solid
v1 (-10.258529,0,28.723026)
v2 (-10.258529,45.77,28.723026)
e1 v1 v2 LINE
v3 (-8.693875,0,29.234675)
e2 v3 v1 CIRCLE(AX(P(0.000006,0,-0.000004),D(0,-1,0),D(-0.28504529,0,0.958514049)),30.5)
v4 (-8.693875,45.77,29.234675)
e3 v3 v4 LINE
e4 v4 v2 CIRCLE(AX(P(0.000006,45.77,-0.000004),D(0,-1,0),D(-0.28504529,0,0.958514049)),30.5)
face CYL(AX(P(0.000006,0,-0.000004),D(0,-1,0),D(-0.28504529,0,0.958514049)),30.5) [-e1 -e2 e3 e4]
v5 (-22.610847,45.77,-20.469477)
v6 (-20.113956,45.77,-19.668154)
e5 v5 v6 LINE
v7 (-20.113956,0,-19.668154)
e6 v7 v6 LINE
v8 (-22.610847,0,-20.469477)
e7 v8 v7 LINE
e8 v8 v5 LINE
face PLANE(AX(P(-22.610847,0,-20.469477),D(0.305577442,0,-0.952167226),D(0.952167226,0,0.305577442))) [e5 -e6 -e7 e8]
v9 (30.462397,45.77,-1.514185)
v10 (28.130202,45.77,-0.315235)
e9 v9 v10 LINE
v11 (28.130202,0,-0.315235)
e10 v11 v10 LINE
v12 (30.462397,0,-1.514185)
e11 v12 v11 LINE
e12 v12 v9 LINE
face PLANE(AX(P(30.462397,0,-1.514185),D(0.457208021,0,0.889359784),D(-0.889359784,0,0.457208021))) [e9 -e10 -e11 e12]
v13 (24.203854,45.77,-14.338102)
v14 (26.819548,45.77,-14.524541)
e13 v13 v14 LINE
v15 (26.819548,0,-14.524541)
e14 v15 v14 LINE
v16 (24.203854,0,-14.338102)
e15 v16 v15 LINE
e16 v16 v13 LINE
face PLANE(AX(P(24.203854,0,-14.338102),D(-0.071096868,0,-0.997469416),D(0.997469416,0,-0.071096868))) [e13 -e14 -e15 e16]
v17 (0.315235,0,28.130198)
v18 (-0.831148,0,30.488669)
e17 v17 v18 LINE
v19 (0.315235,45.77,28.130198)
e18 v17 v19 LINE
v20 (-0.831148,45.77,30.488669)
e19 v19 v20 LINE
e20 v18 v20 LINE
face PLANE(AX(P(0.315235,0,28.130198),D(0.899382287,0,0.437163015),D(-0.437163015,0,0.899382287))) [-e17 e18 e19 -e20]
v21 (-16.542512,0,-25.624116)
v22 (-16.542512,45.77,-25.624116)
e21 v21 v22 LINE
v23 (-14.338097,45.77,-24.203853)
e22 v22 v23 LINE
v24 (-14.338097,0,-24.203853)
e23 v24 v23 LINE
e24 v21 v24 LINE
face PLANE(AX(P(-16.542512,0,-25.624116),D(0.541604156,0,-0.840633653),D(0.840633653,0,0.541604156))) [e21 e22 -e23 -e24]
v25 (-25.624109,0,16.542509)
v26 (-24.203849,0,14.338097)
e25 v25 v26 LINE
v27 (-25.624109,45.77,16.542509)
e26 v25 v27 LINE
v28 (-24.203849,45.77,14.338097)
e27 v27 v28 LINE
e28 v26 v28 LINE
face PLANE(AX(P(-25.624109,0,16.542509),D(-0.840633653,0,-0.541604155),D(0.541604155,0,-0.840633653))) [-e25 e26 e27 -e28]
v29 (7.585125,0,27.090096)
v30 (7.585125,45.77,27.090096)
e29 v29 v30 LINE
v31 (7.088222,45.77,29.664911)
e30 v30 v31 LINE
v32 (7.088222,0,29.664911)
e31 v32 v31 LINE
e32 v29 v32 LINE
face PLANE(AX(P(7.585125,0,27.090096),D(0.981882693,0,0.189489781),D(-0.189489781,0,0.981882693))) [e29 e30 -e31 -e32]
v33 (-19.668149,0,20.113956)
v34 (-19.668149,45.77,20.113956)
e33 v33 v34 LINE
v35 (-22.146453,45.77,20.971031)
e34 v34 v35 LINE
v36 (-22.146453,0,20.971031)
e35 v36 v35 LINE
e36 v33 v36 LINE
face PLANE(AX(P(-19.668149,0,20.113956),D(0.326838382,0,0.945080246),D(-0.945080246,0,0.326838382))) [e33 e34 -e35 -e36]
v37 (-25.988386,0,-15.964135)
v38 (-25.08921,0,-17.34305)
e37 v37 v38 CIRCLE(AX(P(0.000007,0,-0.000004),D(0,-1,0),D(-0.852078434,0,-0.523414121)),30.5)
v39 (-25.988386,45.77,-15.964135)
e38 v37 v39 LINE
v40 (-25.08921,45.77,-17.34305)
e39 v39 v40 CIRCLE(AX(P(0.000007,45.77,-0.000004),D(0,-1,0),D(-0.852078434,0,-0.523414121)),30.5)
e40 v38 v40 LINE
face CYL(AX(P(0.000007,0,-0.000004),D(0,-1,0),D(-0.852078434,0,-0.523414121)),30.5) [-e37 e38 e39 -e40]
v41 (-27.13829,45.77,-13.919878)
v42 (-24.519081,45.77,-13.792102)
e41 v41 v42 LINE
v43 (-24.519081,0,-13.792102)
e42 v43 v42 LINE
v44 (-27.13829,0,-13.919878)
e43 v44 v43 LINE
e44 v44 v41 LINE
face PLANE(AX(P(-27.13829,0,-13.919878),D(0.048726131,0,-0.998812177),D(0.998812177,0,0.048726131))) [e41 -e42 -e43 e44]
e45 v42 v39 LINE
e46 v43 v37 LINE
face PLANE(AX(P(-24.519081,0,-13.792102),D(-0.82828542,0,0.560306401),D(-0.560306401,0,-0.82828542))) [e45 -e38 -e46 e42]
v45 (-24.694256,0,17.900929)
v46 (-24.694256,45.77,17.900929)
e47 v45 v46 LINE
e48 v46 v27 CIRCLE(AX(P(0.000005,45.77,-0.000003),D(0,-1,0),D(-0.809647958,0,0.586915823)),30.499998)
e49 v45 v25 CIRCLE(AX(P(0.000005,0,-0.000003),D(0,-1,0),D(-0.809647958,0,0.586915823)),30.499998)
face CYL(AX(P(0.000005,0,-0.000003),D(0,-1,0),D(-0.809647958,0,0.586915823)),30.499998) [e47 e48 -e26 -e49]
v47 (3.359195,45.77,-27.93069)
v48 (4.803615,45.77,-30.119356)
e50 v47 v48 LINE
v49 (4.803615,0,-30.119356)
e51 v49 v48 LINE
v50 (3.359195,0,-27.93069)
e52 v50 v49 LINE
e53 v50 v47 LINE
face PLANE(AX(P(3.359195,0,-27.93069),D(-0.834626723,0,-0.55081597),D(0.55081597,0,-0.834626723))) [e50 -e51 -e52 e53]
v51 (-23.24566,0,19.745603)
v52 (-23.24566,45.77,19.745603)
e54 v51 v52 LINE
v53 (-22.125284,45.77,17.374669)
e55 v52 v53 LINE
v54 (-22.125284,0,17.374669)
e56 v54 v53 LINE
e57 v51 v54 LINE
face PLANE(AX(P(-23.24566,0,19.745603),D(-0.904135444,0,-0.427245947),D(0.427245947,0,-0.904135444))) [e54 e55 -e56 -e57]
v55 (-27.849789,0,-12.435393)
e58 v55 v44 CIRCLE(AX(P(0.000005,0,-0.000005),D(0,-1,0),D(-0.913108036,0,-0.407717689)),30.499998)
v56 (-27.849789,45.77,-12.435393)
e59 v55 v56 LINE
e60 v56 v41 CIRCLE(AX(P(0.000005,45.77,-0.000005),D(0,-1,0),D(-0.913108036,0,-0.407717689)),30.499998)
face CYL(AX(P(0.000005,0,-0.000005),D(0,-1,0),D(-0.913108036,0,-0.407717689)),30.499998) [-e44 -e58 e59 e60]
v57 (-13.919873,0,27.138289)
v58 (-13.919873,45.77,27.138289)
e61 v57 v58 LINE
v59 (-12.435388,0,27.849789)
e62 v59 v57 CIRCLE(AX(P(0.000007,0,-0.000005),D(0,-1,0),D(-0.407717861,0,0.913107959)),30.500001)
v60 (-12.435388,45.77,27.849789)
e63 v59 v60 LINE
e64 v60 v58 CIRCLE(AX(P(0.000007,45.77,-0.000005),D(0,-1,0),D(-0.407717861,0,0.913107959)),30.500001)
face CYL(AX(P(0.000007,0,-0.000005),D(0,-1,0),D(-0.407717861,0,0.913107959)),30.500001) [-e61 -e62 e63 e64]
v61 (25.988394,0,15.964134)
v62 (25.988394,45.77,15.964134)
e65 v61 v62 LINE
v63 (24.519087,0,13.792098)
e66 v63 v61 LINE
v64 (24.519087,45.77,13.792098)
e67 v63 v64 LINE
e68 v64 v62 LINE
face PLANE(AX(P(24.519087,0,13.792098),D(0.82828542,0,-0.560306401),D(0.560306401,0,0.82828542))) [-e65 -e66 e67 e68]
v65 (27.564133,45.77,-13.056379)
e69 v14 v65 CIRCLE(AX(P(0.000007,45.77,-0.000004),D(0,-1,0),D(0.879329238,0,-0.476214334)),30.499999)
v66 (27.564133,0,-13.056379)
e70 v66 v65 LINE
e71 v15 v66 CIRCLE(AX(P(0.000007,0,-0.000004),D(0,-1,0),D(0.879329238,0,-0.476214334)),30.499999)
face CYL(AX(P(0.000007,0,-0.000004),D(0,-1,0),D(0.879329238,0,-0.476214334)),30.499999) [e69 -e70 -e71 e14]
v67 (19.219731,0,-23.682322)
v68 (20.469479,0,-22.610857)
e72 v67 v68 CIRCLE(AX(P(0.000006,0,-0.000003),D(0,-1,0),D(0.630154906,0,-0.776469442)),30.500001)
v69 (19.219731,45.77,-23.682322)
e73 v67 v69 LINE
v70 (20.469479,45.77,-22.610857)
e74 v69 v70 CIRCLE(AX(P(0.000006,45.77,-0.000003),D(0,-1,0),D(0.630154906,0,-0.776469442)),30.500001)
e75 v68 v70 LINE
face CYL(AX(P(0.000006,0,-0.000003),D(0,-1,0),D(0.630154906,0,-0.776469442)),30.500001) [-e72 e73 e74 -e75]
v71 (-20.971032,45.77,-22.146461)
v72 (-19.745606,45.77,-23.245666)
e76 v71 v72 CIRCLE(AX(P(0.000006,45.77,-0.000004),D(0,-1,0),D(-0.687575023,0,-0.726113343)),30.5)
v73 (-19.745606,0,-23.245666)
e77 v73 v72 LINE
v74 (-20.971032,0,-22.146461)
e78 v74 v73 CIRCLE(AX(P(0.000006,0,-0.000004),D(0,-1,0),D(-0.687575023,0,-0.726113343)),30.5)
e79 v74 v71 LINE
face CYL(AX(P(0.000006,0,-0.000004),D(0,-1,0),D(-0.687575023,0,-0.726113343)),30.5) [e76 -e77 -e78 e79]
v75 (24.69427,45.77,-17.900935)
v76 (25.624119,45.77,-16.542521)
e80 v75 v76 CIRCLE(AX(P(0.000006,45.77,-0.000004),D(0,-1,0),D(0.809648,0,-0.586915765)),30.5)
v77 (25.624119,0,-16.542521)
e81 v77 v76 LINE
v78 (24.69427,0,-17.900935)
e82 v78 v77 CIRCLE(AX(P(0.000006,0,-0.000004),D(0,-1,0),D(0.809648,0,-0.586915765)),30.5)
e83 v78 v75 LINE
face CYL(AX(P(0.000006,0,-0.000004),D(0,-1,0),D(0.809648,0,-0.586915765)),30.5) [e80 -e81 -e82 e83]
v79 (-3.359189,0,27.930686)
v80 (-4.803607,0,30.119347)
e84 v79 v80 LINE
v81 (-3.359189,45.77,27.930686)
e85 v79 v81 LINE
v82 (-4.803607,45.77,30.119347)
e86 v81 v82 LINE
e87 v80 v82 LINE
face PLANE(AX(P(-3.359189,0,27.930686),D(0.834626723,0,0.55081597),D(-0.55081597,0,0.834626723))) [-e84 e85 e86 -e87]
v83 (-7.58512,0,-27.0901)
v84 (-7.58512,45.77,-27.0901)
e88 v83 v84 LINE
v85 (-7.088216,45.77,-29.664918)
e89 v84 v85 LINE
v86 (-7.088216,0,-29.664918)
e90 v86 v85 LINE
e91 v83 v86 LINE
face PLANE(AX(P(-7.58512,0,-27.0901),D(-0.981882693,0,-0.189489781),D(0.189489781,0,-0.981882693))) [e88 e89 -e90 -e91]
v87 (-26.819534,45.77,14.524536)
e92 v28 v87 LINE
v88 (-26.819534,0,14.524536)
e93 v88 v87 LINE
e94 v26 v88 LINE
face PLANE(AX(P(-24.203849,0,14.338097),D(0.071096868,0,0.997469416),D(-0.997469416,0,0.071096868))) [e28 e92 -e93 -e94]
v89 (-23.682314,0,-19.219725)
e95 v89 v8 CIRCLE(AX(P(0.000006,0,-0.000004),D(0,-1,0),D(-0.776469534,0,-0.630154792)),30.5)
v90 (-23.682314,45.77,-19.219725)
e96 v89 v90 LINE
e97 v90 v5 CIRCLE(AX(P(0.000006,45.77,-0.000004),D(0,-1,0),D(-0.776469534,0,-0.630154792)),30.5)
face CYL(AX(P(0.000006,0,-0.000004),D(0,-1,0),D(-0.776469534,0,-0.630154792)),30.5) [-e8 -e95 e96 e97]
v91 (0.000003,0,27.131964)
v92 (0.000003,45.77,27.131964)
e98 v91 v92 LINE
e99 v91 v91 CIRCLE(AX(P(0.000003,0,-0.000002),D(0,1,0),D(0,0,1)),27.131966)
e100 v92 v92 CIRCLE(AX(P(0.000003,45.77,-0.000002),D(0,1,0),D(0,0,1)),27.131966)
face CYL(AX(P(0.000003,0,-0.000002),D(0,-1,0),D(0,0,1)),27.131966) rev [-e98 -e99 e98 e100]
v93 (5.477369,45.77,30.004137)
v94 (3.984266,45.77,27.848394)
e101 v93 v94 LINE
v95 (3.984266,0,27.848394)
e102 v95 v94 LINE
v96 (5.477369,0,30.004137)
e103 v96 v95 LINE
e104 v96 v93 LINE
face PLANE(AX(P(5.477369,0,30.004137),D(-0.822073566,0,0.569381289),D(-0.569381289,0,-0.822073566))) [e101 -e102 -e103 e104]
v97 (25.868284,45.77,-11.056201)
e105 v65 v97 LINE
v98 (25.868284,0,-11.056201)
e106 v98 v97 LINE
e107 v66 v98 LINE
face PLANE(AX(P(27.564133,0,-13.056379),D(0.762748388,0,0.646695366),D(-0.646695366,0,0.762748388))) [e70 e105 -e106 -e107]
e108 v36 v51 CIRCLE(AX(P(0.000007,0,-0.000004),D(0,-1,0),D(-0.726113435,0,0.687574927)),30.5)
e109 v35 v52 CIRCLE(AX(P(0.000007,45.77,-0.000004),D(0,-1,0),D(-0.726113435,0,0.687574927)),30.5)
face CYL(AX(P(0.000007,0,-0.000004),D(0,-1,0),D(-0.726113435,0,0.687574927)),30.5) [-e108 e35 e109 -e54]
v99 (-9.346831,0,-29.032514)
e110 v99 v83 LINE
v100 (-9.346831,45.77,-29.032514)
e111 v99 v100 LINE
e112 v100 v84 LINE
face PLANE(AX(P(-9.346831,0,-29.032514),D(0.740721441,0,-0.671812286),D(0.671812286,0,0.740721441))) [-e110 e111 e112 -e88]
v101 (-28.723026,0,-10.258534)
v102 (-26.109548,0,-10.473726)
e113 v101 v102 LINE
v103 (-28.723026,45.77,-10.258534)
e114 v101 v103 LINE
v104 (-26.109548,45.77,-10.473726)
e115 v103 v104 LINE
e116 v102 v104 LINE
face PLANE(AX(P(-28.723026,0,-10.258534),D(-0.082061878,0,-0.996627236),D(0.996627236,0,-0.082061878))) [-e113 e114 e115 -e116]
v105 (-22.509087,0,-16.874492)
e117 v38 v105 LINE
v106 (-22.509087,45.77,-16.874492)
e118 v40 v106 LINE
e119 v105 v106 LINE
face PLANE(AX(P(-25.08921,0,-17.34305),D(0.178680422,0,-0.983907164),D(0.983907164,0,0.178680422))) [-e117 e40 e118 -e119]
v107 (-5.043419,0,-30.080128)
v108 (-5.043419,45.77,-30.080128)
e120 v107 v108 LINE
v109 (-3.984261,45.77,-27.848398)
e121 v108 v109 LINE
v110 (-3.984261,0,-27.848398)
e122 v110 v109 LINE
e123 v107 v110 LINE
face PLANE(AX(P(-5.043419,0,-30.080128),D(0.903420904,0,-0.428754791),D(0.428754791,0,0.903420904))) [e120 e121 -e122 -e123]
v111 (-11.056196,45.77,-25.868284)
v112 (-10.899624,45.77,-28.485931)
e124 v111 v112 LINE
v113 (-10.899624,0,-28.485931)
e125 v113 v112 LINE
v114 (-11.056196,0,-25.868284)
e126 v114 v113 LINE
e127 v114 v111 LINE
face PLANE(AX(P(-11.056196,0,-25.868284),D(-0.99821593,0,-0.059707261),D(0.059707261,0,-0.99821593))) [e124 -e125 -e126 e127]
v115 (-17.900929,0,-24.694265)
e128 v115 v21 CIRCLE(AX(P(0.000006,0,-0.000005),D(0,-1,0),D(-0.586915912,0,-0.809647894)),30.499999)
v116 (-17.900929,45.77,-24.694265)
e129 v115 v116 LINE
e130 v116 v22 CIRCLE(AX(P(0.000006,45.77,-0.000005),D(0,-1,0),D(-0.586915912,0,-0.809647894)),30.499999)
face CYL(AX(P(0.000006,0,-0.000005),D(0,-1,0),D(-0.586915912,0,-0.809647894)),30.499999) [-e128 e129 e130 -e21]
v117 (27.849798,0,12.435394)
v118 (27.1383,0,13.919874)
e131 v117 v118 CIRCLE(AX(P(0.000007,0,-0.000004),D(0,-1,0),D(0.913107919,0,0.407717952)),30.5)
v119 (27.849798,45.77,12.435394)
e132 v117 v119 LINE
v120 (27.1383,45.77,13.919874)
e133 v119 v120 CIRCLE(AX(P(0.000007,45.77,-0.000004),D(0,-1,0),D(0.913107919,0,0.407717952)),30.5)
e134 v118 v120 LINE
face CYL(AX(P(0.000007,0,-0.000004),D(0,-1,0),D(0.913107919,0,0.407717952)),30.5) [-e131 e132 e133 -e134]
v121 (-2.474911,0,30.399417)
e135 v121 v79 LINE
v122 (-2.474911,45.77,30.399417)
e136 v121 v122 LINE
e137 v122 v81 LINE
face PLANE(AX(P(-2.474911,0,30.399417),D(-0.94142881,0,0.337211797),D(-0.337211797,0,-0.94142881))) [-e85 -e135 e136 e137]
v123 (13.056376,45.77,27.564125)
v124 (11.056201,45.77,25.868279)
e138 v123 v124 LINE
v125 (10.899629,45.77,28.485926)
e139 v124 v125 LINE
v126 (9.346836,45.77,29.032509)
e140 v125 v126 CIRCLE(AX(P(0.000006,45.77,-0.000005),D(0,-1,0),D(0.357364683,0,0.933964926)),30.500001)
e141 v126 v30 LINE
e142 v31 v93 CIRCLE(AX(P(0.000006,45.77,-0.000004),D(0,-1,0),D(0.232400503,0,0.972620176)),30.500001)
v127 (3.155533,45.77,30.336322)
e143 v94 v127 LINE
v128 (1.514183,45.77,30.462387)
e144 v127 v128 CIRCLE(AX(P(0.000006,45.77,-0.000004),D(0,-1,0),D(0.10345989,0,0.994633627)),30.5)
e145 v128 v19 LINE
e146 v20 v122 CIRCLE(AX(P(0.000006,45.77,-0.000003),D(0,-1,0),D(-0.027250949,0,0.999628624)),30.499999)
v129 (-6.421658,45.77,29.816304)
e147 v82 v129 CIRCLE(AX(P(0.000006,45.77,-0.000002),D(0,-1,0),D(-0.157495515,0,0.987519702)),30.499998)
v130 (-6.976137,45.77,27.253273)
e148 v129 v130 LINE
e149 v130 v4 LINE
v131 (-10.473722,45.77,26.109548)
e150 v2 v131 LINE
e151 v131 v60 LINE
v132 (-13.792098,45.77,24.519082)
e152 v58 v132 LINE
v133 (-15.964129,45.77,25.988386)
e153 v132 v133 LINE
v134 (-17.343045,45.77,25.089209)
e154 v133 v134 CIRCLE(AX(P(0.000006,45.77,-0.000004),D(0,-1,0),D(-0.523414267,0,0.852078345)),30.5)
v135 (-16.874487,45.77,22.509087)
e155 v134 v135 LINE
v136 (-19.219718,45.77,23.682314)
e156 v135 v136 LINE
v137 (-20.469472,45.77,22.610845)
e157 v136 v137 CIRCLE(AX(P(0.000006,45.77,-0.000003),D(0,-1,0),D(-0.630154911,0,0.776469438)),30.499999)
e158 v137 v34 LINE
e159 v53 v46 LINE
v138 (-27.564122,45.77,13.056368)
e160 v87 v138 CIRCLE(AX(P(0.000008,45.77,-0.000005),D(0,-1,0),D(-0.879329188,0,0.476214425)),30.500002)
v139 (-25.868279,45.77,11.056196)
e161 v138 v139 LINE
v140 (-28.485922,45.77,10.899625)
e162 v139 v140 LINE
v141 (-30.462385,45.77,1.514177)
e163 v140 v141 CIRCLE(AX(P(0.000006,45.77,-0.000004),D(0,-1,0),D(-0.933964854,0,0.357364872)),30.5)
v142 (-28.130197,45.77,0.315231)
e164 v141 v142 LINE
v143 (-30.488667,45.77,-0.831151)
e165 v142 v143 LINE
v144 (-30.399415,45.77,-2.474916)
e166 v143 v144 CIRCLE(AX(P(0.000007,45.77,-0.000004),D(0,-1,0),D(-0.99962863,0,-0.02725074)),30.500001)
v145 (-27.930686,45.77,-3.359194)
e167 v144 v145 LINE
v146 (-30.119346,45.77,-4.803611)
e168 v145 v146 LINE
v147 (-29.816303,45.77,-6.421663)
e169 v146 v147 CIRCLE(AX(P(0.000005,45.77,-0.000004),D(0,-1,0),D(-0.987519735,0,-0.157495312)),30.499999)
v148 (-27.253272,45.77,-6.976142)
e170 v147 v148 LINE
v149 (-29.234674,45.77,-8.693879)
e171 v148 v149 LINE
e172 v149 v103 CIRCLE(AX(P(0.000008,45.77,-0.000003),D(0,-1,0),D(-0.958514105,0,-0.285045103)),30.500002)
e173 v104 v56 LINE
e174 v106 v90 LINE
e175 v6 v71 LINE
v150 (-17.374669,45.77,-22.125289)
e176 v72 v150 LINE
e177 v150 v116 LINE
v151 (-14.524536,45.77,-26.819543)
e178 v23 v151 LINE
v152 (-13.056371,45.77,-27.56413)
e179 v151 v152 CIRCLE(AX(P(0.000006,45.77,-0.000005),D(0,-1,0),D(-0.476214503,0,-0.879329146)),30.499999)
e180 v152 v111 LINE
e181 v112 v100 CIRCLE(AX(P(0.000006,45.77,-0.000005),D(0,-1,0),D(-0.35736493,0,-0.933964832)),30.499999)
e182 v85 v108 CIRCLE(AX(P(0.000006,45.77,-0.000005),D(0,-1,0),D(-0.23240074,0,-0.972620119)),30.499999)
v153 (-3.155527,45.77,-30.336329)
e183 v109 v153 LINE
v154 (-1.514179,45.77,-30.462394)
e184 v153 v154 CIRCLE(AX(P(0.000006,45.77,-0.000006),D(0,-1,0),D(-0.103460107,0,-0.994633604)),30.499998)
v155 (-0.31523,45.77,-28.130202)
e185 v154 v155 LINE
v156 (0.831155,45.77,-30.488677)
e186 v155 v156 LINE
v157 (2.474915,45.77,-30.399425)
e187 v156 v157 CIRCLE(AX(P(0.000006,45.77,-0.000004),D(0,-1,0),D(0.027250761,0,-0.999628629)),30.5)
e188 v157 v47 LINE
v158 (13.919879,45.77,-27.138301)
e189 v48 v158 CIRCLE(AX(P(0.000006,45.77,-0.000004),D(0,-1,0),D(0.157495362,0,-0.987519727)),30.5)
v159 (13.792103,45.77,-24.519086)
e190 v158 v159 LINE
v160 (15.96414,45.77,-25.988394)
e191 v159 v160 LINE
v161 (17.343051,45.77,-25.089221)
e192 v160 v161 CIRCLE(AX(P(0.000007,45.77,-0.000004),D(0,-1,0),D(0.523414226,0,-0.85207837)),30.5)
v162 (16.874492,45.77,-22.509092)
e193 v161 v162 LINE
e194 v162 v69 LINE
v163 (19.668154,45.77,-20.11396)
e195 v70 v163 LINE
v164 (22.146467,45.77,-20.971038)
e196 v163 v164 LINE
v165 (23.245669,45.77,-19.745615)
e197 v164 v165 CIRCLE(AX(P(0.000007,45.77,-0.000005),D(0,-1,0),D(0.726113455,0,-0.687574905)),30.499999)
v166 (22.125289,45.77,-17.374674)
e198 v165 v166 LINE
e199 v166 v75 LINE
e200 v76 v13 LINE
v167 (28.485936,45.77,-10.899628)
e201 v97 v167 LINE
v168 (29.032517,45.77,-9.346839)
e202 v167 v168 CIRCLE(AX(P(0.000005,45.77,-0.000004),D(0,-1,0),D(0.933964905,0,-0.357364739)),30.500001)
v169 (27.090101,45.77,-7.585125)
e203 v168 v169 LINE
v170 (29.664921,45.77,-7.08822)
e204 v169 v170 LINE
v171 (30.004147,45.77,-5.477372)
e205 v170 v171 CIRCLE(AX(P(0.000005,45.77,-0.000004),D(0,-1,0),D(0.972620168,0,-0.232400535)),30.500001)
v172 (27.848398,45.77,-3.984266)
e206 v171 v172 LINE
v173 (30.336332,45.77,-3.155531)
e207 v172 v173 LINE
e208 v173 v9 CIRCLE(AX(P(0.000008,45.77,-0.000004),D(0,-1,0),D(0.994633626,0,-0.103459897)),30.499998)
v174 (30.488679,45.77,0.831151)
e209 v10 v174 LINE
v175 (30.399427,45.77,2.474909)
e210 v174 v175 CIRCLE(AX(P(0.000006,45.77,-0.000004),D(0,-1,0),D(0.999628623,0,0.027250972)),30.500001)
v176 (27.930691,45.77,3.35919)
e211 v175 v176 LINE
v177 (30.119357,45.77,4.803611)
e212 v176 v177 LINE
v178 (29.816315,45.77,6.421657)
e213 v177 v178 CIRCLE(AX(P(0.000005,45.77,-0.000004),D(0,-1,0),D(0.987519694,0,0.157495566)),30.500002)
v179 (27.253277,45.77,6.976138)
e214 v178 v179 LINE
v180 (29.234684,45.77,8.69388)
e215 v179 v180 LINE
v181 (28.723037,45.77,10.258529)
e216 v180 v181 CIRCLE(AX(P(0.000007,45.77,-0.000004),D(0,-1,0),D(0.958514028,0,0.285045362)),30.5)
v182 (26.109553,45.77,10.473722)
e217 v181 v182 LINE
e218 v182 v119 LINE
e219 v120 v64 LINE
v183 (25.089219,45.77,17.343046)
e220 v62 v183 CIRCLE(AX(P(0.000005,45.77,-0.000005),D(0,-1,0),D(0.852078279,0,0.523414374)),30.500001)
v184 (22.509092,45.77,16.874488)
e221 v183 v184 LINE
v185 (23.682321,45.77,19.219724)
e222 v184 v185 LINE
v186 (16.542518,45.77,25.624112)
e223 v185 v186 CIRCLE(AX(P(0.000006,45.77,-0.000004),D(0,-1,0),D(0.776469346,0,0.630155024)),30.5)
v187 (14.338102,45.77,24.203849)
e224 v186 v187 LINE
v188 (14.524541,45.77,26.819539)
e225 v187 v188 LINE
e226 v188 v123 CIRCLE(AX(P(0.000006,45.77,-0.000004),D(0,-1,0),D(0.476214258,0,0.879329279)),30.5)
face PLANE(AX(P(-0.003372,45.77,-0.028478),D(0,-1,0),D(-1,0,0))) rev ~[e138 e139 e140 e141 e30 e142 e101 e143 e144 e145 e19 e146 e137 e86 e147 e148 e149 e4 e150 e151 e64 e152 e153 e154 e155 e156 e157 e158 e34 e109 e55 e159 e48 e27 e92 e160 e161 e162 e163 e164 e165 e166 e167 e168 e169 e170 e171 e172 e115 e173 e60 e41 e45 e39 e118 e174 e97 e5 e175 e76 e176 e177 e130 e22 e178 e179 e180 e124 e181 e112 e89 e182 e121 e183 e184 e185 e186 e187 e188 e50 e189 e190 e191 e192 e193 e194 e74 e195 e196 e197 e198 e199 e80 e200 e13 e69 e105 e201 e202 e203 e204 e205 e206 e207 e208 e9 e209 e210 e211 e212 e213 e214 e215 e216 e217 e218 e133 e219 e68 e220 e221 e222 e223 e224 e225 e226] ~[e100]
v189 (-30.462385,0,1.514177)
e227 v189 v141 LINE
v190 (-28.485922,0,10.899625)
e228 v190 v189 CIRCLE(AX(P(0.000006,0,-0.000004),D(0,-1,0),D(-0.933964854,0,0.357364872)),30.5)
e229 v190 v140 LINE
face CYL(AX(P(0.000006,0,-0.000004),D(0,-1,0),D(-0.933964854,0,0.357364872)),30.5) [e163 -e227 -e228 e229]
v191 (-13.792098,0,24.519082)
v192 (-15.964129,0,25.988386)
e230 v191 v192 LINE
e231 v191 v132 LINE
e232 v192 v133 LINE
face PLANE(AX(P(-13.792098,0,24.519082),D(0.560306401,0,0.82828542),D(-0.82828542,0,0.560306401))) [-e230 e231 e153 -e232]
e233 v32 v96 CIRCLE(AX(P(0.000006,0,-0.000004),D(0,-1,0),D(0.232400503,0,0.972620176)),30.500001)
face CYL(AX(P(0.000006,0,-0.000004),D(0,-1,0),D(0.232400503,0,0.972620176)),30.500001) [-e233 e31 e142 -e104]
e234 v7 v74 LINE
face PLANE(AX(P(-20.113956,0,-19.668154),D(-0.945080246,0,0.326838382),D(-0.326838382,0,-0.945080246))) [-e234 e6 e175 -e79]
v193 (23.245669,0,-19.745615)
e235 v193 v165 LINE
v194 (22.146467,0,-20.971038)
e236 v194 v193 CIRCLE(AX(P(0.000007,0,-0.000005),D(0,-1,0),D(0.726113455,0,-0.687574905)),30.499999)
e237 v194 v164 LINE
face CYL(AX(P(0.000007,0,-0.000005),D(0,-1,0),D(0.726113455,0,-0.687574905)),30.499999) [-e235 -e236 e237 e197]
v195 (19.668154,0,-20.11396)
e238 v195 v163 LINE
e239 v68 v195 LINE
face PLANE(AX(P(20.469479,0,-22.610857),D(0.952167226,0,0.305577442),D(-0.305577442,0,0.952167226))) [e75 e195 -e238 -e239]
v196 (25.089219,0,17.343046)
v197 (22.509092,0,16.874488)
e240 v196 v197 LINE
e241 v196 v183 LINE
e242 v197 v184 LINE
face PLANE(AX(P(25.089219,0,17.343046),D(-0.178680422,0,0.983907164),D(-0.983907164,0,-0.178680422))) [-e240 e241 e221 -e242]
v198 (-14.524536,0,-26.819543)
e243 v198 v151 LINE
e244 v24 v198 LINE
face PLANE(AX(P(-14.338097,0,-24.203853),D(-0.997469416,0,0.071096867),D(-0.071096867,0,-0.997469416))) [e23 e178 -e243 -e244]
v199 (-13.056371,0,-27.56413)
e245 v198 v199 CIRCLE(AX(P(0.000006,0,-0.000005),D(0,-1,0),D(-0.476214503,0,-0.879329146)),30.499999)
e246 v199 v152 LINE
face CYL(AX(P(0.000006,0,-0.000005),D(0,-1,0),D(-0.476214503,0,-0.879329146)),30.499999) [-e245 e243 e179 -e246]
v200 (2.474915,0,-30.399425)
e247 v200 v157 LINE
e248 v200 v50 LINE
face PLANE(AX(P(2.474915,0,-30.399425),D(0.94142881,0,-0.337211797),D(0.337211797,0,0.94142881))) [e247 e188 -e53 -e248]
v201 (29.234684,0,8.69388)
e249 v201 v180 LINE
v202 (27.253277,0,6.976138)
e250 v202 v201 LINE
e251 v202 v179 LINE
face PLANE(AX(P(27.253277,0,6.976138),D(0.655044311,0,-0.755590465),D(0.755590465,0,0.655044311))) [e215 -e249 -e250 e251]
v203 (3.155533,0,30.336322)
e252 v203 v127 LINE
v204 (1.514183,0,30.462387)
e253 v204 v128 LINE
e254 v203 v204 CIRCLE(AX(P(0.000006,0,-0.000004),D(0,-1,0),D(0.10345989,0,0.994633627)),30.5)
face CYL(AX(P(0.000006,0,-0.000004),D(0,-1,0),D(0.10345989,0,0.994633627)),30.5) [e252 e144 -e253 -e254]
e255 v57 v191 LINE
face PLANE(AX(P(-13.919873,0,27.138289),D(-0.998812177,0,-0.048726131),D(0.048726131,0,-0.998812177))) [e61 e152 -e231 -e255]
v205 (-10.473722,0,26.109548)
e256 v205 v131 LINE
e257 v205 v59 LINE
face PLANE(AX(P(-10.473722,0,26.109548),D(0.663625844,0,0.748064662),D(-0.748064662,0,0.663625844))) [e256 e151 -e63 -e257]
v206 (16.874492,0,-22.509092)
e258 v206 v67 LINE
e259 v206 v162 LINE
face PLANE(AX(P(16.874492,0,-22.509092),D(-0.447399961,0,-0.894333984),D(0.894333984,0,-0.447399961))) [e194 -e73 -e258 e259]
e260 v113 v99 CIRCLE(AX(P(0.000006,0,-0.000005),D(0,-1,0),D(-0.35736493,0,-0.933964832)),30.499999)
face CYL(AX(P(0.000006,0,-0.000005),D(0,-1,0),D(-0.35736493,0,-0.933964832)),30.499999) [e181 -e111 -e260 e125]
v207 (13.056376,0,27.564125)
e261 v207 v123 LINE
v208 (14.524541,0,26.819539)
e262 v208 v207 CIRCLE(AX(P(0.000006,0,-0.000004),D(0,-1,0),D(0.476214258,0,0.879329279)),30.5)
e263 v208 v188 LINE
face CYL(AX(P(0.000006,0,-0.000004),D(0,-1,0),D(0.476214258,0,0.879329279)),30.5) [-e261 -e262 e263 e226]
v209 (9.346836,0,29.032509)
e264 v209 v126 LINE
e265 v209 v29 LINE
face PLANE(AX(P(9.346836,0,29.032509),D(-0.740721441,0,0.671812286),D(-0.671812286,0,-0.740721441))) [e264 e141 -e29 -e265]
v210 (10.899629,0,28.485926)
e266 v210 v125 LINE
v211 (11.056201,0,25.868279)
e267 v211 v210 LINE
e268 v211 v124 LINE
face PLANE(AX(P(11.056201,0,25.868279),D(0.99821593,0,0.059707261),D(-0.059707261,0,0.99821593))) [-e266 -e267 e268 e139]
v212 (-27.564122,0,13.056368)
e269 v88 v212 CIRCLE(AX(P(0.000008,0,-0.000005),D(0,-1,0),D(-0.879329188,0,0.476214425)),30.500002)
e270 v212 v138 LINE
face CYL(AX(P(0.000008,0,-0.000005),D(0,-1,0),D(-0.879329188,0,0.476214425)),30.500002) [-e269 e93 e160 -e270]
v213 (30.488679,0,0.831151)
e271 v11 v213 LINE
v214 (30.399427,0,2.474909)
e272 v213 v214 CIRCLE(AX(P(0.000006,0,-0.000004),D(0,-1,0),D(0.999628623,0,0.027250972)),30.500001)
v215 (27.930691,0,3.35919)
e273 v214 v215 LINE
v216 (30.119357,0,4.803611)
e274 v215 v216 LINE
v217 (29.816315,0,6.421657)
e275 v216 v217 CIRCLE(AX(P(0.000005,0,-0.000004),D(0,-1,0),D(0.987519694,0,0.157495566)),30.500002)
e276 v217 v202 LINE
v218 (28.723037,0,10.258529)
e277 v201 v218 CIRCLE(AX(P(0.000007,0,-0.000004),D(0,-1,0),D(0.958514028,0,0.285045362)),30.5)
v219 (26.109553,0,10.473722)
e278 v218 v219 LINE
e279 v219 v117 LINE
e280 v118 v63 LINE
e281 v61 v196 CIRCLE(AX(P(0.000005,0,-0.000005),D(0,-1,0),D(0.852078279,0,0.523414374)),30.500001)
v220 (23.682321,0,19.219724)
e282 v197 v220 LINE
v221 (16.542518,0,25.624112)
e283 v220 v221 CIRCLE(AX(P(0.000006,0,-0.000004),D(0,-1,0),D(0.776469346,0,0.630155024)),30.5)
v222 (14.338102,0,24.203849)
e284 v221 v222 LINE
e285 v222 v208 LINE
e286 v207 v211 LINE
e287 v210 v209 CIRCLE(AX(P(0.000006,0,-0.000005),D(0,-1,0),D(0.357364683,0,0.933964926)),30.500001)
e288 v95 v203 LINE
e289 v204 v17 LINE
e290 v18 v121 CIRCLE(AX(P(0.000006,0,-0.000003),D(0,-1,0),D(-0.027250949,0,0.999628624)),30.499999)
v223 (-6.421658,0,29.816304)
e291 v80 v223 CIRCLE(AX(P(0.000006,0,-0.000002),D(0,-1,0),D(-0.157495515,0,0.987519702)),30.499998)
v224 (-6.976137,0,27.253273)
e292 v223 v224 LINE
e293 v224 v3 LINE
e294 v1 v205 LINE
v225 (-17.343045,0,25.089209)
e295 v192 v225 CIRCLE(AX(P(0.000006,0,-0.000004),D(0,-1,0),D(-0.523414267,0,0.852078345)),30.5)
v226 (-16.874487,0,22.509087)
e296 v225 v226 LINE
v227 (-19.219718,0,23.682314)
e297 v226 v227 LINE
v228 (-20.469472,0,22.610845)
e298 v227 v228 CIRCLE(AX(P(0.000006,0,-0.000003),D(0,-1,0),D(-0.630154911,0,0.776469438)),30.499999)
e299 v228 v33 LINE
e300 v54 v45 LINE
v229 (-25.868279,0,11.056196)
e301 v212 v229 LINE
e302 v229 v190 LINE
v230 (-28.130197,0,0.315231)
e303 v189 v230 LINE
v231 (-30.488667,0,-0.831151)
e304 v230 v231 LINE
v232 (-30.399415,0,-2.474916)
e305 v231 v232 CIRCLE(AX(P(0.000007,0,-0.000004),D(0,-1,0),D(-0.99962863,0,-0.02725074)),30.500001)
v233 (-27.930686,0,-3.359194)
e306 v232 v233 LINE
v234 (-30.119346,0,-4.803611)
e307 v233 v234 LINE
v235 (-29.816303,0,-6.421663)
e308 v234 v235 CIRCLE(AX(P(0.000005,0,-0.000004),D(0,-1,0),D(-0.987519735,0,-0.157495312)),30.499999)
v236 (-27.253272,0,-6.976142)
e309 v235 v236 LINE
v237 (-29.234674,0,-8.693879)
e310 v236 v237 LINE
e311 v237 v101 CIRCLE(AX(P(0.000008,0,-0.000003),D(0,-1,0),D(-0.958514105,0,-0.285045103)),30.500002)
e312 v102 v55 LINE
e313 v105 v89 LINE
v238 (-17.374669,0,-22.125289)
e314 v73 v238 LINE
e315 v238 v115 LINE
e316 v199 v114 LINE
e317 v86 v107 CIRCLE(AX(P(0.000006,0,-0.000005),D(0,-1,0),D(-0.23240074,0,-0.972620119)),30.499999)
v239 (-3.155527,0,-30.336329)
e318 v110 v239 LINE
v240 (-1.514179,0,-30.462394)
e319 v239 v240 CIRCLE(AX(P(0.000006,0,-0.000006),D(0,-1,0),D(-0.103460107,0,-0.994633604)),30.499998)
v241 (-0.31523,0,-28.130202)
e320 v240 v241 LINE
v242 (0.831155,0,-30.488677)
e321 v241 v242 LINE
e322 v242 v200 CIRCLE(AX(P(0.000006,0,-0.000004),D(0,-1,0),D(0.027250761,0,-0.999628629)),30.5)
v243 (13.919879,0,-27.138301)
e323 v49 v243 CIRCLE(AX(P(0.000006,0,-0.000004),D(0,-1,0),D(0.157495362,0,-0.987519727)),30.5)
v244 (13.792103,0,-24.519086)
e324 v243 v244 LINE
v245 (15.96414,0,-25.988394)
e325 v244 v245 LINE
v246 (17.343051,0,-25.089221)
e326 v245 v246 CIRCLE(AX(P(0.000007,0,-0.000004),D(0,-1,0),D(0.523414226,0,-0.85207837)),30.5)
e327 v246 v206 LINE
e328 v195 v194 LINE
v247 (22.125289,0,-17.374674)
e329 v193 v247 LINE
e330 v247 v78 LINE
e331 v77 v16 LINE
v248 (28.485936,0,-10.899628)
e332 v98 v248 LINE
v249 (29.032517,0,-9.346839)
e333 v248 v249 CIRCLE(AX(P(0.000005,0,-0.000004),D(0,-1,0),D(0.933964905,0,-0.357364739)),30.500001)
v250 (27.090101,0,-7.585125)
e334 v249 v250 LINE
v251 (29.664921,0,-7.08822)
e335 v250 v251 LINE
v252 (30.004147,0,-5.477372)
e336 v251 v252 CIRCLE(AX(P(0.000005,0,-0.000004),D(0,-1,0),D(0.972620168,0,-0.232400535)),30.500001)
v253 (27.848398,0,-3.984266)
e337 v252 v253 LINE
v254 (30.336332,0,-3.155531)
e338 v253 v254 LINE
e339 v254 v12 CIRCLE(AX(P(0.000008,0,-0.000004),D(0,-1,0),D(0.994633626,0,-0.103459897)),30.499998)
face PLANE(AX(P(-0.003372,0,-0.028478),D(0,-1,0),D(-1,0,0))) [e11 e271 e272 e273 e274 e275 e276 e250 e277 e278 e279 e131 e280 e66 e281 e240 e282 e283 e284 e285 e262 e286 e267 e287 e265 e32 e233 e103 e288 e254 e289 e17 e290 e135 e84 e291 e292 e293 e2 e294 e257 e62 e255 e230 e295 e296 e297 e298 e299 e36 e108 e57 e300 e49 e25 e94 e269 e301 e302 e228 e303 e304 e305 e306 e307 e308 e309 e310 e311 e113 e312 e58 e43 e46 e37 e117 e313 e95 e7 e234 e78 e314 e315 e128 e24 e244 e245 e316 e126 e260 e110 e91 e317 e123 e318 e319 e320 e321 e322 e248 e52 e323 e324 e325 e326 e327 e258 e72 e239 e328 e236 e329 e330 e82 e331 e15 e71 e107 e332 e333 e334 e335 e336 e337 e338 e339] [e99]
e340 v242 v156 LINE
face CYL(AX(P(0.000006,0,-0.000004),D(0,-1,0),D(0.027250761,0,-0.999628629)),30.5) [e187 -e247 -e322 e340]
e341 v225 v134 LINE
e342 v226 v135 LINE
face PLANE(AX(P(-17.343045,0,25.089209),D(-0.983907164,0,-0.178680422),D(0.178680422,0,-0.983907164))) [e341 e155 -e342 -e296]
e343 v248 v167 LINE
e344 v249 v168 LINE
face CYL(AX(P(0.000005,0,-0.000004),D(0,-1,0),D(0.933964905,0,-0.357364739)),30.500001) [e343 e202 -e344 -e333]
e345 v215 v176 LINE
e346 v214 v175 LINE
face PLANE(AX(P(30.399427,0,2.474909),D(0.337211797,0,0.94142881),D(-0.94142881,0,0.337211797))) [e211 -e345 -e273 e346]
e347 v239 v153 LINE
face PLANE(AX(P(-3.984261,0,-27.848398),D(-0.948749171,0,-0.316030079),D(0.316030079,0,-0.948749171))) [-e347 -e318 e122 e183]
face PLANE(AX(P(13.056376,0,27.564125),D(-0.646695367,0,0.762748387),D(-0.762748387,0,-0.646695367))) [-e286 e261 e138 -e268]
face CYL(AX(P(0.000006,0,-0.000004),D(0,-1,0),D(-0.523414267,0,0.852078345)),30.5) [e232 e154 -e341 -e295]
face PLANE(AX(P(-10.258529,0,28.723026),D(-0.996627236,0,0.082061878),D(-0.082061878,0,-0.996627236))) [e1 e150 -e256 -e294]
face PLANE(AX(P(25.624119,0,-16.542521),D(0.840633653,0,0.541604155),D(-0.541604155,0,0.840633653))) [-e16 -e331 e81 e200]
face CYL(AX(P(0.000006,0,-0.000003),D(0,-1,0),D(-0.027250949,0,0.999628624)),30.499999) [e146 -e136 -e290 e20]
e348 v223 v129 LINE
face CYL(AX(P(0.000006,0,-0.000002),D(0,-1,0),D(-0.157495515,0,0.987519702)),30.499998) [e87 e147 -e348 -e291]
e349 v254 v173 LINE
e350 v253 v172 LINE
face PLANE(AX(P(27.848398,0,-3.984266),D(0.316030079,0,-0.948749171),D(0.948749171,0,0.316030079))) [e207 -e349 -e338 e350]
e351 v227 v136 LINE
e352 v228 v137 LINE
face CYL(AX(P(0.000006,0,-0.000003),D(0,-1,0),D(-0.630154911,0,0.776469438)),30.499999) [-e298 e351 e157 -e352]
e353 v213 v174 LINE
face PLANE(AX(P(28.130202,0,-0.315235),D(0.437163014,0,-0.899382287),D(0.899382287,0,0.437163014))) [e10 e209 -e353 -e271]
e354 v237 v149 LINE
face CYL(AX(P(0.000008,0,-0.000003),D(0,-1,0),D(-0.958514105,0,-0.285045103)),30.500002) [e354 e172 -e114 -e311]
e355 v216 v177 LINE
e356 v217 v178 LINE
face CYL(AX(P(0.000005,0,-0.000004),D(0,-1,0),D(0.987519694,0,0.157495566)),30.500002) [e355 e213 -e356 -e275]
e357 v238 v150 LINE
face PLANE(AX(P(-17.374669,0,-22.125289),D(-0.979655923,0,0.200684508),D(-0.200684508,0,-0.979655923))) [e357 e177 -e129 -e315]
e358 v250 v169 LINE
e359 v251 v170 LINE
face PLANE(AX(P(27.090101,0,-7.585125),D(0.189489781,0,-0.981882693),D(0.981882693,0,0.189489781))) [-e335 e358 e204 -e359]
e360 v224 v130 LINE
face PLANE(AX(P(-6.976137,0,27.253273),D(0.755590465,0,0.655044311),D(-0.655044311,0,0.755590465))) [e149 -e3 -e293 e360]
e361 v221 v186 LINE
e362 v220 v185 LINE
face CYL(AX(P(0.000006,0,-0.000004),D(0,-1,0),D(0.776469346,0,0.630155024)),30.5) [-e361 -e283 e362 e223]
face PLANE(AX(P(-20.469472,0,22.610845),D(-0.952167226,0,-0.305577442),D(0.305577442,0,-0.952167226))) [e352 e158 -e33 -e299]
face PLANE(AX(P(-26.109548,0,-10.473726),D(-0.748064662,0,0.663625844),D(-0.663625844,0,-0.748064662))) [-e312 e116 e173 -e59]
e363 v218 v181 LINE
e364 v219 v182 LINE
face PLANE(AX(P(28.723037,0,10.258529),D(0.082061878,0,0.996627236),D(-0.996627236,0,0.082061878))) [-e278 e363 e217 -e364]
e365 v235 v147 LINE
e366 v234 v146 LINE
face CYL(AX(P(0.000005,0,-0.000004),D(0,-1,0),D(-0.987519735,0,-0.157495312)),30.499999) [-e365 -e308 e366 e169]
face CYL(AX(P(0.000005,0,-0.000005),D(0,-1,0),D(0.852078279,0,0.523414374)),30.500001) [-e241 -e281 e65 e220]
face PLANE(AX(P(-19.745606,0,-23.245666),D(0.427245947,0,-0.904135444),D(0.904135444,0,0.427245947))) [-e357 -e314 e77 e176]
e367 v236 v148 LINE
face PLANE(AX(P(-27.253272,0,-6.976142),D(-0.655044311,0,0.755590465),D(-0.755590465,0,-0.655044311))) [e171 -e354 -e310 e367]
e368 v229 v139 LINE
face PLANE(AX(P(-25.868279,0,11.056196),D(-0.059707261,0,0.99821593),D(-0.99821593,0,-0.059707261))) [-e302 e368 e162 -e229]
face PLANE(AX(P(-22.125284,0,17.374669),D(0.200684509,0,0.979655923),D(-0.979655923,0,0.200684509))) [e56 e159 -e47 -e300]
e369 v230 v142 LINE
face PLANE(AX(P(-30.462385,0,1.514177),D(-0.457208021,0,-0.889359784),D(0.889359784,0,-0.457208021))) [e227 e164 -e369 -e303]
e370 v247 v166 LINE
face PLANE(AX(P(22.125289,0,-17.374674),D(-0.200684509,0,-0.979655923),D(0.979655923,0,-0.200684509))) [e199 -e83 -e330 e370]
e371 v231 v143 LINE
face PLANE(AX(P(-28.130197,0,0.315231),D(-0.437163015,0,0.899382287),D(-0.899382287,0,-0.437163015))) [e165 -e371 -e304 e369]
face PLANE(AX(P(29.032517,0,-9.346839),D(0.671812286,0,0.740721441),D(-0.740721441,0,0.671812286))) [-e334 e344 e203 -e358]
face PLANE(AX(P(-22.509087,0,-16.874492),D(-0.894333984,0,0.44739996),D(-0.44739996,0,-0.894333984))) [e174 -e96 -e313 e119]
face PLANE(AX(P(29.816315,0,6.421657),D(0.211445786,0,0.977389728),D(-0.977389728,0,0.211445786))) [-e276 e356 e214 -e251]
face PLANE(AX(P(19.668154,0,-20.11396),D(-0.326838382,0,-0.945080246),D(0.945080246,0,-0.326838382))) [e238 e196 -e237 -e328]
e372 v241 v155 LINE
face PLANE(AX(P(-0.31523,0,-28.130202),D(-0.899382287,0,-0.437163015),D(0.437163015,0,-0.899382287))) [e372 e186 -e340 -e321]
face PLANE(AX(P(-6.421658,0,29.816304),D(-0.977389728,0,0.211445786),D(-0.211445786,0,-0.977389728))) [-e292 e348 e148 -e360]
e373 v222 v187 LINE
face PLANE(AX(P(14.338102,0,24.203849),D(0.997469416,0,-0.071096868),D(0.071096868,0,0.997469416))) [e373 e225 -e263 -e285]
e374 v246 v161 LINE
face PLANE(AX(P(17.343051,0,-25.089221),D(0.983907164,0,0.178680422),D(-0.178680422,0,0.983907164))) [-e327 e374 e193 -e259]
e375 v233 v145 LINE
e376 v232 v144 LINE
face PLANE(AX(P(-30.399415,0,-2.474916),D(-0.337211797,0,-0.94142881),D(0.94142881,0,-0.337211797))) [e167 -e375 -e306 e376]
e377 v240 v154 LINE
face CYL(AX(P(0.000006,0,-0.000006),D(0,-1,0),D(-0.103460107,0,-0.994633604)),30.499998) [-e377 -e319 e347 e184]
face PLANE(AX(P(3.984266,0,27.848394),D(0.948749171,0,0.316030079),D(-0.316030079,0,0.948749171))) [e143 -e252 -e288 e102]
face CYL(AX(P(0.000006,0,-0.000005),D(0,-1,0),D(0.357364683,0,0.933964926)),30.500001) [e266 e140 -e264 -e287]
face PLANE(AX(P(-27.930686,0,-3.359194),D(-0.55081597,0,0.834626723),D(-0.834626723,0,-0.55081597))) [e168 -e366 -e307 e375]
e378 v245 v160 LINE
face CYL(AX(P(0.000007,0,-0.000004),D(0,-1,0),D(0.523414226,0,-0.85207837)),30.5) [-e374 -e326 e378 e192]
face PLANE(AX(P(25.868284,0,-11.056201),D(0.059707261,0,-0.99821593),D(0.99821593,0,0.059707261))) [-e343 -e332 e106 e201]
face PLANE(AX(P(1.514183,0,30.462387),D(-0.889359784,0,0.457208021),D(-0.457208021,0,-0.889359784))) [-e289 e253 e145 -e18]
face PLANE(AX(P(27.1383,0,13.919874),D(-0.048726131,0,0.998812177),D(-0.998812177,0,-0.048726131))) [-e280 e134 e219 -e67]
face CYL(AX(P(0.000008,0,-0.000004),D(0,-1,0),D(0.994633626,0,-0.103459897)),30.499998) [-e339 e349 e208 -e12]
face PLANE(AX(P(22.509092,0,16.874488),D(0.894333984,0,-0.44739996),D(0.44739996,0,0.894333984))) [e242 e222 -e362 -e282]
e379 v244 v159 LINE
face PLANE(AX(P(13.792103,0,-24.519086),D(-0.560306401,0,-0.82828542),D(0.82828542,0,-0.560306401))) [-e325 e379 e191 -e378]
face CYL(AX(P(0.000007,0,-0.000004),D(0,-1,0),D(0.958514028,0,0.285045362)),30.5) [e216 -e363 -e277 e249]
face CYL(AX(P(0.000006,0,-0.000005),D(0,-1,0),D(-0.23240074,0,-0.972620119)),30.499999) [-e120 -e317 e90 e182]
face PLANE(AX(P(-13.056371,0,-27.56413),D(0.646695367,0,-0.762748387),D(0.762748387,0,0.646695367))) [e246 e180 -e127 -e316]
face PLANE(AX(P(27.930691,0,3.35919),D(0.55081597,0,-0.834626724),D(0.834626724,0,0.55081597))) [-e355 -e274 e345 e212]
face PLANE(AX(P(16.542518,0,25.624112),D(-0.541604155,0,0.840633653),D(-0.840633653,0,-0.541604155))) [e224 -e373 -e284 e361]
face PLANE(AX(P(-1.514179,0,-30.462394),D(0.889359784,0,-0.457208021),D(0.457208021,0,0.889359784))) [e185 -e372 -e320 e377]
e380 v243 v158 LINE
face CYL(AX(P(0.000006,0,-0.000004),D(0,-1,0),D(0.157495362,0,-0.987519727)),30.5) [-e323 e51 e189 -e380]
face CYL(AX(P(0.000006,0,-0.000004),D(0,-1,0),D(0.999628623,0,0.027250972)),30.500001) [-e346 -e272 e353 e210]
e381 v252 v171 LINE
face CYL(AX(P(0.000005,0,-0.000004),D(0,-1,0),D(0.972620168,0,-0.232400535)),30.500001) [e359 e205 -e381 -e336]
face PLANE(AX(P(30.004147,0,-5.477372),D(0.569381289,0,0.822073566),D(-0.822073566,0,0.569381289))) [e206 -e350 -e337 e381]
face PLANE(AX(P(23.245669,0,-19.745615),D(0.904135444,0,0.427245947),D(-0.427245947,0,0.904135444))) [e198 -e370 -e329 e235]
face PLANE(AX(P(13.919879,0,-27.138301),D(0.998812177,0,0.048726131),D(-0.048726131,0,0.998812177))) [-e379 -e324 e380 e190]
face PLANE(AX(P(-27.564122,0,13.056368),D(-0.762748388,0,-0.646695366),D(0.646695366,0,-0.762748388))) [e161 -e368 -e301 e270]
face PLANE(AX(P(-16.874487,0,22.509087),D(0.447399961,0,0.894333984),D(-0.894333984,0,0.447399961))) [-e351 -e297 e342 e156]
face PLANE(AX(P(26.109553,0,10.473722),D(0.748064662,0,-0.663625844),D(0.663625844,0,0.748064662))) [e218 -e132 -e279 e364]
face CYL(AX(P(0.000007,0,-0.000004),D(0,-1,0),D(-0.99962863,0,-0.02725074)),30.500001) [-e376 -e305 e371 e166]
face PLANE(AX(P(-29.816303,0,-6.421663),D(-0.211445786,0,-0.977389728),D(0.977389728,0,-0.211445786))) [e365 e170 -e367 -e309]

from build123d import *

# Parameters (mm, degrees)
SKETCH1_R           = 27.131966011
BOSS_EXTRUDE1_DEPTH = 45.77


with BuildPart() as part:
    # Sketch1 → Boss-Extrude1 (new body)
    with BuildSketch(Plane(origin=(0, 0, 0), x_dir=(1, 0, 0), z_dir=(0, 1, 0))):
        with BuildLine():
            Line((-3.984261156, 27.848398027), (-3.155526874, 30.336328812))
            ThreePointArc((-3.155526874, 30.336328812), (-2.335703763, 30.410437264), (-1.5141793, 30.462394497))
            Line((-1.5141793, 30.462394497), (-0.315230151, 28.130201914))
            Line((-0.315230151, 28.130201914), (0.831154566, 30.48867707))
            ThreePointArc((0.831154566, 30.48867707), (1.65363686, 30.455143124), (2.474914637, 30.399425407))
            Line((2.474914637, 30.399425407), (3.359194573, 27.930690283))
            Line((3.359194573, 27.930690283), (4.803614875, 30.119355554))
            ThreePointArc((4.803614875, 30.119355554), (9.479661295, 28.989418191), (13.919878882, 27.138300594))
            Line((13.919878882, 27.138300594), (13.792102919, 24.51908612))
            Line((13.792102919, 24.51908612), (15.964140245, 25.988394149))
            ThreePointArc((15.964140245, 25.988394149), (16.659663243, 25.548112068), (17.343051232, 25.089220567))
            Line((17.343051232, 25.089220567), (16.874492259, 22.509091617))
            Line((16.874492259, 22.509091617), (19.21973095, 23.682321883))
            ThreePointArc((19.21973095, 23.682321883), (19.851835217, 23.155022565), (20.469479277, 22.610856977))
            Line((20.469479277, 22.610856977), (19.668154402, 20.113960352))
            Line((19.668154402, 20.113960352), (22.146466743, 20.971038467))
            ThreePointArc((22.146466743, 20.971038467), (22.704336831, 20.365744156), (23.245668935, 19.745615304))
            Line((23.245668935, 19.745615304), (22.125289014, 17.374673686))
            Line((22.125289014, 17.374673686), (24.69427034, 17.900934736))
            ThreePointArc((24.69427034, 17.900934736), (25.168360968, 17.228002177), (25.624118803, 16.542520632))
            Line((25.624118803, 16.542520632), (24.203853841, 14.338101571))
            Line((24.203853841, 14.338101571), (26.8195481, 14.52454104))
            ThreePointArc((26.8195481, 14.52454104), (27.201747469, 13.795484281), (27.564132913, 13.056378805))
            Line((27.564132913, 13.056378805), (25.868284062, 11.0562006))
            Line((25.868284062, 11.0562006), (28.485935925, 10.899628442))
            ThreePointArc((28.485935925, 10.899628442), (28.769704511, 10.126921824), (29.032517063, 9.346838694))
            Line((29.032517063, 9.346838694), (27.090100815, 7.585125008))
            Line((27.090100815, 7.585125008), (29.664921456, 7.088220232))
            ThreePointArc((29.664921456, 7.088220232), (29.845403904, 6.285084953), (30.00414677, 5.47737158))
            Line((30.00414677, 5.47737158), (27.848398476, 3.984265861))
            Line((27.848398476, 3.984265861), (30.336331931, 3.15553069))
            ThreePointArc((30.336331931, 3.15553069), (30.410440131, 2.33570859), (30.462397167, 1.514185147))
            Line((30.462397167, 1.514185147), (28.130202362, 0.315234856))
            Line((28.130202362, 0.315234856), (30.488679348, -0.83115075))
            ThreePointArc((30.488679348, -0.83115075), (30.455145268, -1.653632314), (30.399427457, -2.474909359))
            Line((30.399427457, -2.474909359), (27.930690731, -3.359189868))
            Line((27.930690731, -3.359189868), (30.11935702, -4.803610841))
            ThreePointArc((30.11935702, -4.803610841), (29.97875441, -5.614679004), (29.81631507, -6.421657392))
            Line((29.81631507, -6.421657392), (27.253277282, -6.976137886))
            Line((27.253277282, -6.976137886), (29.234684181, -8.693879674))
            ThreePointArc((29.234684181, -8.693879674), (28.989418755, -9.479656851), (28.723037229, -10.258528973))
            Line((28.723037229, -10.258528973), (26.109552746, -10.473722214))
            Line((26.109552746, -10.473722214), (27.849797859, -12.435393664))
            ThreePointArc((27.849797859, -12.435393664), (27.504066132, -13.182434995), (27.138300238, -13.919874138))
            Line((27.138300238, -13.919874138), (24.519086569, -13.792098214))
            Line((24.519086569, -13.792098214), (25.988393872, -15.964134468))
            ThreePointArc((25.988393872, -15.964134468), (25.548111361, -16.659657866), (25.089219408, -17.343046235))
            Line((25.089219408, -17.343046235), (22.509092066, -16.874487554))
            Line((22.509092066, -16.874487554), (23.682321388, -19.219724361))
            ThreePointArc((23.682321388, -19.219724361), (20.365742572, -22.704330231), (16.542517807, -25.624111989))
            Line((16.542517807, -25.624111989), (14.33810202, -24.203849136))
            Line((14.33810202, -24.203849136), (14.524541185, -26.819539129))
            ThreePointArc((14.524541185, -26.819539129), (13.795482869, -27.201739208), (13.056375797, -27.564125279))
            Line((13.056375797, -27.564125279), (11.056201049, -25.868279357))
            Line((11.056201049, -25.868279357), (10.899629182, -28.485926359))
            ThreePointArc((10.899629182, -28.485926359), (10.126920725, -28.76969554), (9.346835723, -29.032508588))
            Line((9.346835723, -29.032508588), (7.585125457, -27.09009611))
            Line((7.585125457, -27.09009611), (7.0882217, -29.66491147))
            ThreePointArc((7.0882217, -29.66491147), (6.285084339, -29.845394329), (5.477368862, -30.004137493))
            Line((5.477368862, -30.004137493), (3.984266309, -27.848393771))
            Line((3.984266309, -27.848393771), (3.15553297, -30.336321728))
            ThreePointArc((3.15553297, -30.336321728), (2.3357086, -30.410430097), (1.51418288, -30.462387181))
            Line((1.51418288, -30.462387181), (0.315235305, -28.130197658))
            Line((0.315235305, -28.130197658), (-0.831147629, -30.488669145))
            ThreePointArc((-0.831147629, -30.488669145), (-1.653631581, -30.455134954), (-2.474911005, -30.399416902))
            Line((-2.474911005, -30.399416902), (-3.35918942, -27.930686027))
            Line((-3.35918942, -27.930686027), (-4.803606908, -30.119347035))
            ThreePointArc((-4.803606908, -30.119347035), (-5.614677501, -29.978744012), (-6.421658293, -29.816304126))
            Line((-6.421658293, -29.816304126), (-6.976137437, -27.253272577))
            Line((-6.976137437, -27.253272577), (-8.693875013, -29.234674617))
            ThreePointArc((-8.693875013, -29.234674617), (-9.479654581, -28.989408474), (-10.258529053, -28.723026103))
            Line((-10.258529053, -28.723026103), (-10.473721765, -26.109548042))
            Line((-10.473721765, -26.109548042), (-12.435388408, -27.84978889))
            ThreePointArc((-12.435388408, -27.84978889), (-13.182432016, -27.504056163), (-13.919873378, -27.138289149))
            Line((-13.919873378, -27.138289149), (-13.792097766, -24.519081864))
            Line((-13.792097766, -24.519081864), (-15.964128792, -25.988385631))
            ThreePointArc((-15.964128792, -25.988385631), (-16.659654283, -25.548101878), (-17.343044673, -25.089208572))
            Line((-17.343044673, -25.089208572), (-16.874487106, -22.509087361))
            Line((-16.874487106, -22.509087361), (-19.219718467, -23.68231396))
            ThreePointArc((-19.219718467, -23.68231396), (-19.851825173, -23.155012543), (-20.469471557, -22.610844724))
            Line((-20.469471557, -22.610844724), (-19.668149248, -20.113956096))
            Line((-19.668149248, -20.113956096), (-22.146453419, -20.971031386))
            ThreePointArc((-22.146453419, -20.971031386), (-22.704325784, -20.365734574), (-23.245660027, -19.745603103))
            Line((-23.245660027, -19.745603103), (-22.125283861, -17.374669429))
            Line((-22.125283861, -17.374669429), (-24.694256422, -17.900928684))
            ThreePointArc((-24.694256422, -17.900928684), (-25.168349066, -17.227993282), (-25.62410876, -16.542508787))
            Line((-25.62410876, -16.542508787), (-24.203848687, -14.338097315))
            Line((-24.203848687, -14.338097315), (-26.819533875, -14.524536138))
            ThreePointArc((-26.819533875, -14.524536138), (-27.201734918, -13.79547627), (-27.564121868, -13.056367599))
            Line((-27.564121868, -13.056367599), (-25.868278909, -11.056196344))
            Line((-25.868278909, -11.056196344), (-28.4859217, -10.899624729))
            ThreePointArc((-28.4859217, -10.899624729), (-29.845390828, -6.285079097), (-30.462384511, -1.514177033))
            Line((-30.462384511, -1.514177033), (-28.130197209, -0.3152306))
            Line((-28.130197209, -0.3152306), (-30.488666867, 0.831151445))
            ThreePointArc((-30.488666867, 0.831151445), (-30.455132809, 1.653636127), (-30.399414852, 2.474916284))
            Line((-30.399414852, 2.474916284), (-27.930685578, 3.359194124))
            Line((-27.930685578, 3.359194124), (-30.119345569, 4.803610941))
            ThreePointArc((-30.119345569, 4.803610941), (-29.978742638, 5.614681962), (-29.816302822, 6.421663183))
            Line((-29.816302822, 6.421663183), (-27.253272129, 6.976142142))
            Line((-27.253272129, 6.976142142), (-29.23467388, 8.693879467))
            ThreePointArc((-29.23467388, 8.693879467), (-28.989407866, 9.479659161), (-28.72302562, 10.258533761))
            Line((-28.72302562, 10.258533761), (-26.109547593, 10.47372647))
            Line((-26.109547593, 10.47372647), (-27.849788746, 12.435393457))
            ThreePointArc((-27.849788746, 12.435393457), (-27.504056265, 13.182436908), (-27.138289505, 13.919878122))
            Line((-27.138289505, 13.919878122), (-24.519081415, 13.792102471))
            Line((-24.519081415, 13.792102471), (-25.988385908, 15.964134569))
            ThreePointArc((-25.988385908, 15.964134569), (-25.548102584, 16.65965966), (-25.089209731, 17.34304967))
            Line((-25.089209731, 17.34304967), (-22.509086912, 16.87449181))
            Line((-22.509086912, 16.87449181), (-23.682314454, 19.219725057))
            ThreePointArc((-23.682314454, 19.219725057), (-23.155013707, 19.851831175), (-22.610846592, 20.469477005))
            Line((-22.610846592, 20.469477005), (-20.113955647, 19.668153953))
            Line((-20.113955647, 19.668153953), (-20.97103188, 22.14646085))
            ThreePointArc((-20.97103188, 22.14646085), (-20.36573602, 22.704332508), (-19.745605539, 23.245666095))
            Line((-19.745605539, 23.245666095), (-17.374668981, 22.125288565))
            Line((-17.374668981, 22.125288565), (-17.90092896, 24.694264665))
            ThreePointArc((-17.90092896, 24.694264665), (-17.227994811, 25.168356561), (-16.542511612, 25.624115574))
            Line((-16.542511612, 25.624115574), (-14.338096867, 24.203853392))
            Line((-14.338096867, 24.203853392), (-14.524535993, 26.819542846))
            ThreePointArc((-14.524535993, 26.819542846), (-13.795477682, 27.20174318), (-13.056370606, 27.564129503))
            Line((-13.056370606, 27.564129503), (-11.056195896, 25.868283613))
            Line((-11.056195896, 25.868283613), (-10.89962399, 28.485931265))
            ThreePointArc((-10.89962399, 28.485931265), (-10.126915935, 28.769700534), (-9.346831335, 29.032513688))
            Line((-9.346831335, 29.032513688), (-7.585120303, 27.090100366))
            Line((-7.585120303, 27.090100366), (-7.088216199, 29.664917524))
            ThreePointArc((-7.088216199, 29.664917524), (-6.06936901, 29.890013635), (-5.043418528, 30.08012798))
            Line((-5.043418528, 30.08012798), (-3.984261156, 27.848398027))
        make_face()
        with Locations(Location((2.577e-06, 2.128e-06, 0), (0, 0, 270))):
            Circle(SKETCH1_R, mode=Mode.SUBTRACT)
    extrude(amount=BOSS_EXTRUDE1_DEPTH)


solid = part.part
